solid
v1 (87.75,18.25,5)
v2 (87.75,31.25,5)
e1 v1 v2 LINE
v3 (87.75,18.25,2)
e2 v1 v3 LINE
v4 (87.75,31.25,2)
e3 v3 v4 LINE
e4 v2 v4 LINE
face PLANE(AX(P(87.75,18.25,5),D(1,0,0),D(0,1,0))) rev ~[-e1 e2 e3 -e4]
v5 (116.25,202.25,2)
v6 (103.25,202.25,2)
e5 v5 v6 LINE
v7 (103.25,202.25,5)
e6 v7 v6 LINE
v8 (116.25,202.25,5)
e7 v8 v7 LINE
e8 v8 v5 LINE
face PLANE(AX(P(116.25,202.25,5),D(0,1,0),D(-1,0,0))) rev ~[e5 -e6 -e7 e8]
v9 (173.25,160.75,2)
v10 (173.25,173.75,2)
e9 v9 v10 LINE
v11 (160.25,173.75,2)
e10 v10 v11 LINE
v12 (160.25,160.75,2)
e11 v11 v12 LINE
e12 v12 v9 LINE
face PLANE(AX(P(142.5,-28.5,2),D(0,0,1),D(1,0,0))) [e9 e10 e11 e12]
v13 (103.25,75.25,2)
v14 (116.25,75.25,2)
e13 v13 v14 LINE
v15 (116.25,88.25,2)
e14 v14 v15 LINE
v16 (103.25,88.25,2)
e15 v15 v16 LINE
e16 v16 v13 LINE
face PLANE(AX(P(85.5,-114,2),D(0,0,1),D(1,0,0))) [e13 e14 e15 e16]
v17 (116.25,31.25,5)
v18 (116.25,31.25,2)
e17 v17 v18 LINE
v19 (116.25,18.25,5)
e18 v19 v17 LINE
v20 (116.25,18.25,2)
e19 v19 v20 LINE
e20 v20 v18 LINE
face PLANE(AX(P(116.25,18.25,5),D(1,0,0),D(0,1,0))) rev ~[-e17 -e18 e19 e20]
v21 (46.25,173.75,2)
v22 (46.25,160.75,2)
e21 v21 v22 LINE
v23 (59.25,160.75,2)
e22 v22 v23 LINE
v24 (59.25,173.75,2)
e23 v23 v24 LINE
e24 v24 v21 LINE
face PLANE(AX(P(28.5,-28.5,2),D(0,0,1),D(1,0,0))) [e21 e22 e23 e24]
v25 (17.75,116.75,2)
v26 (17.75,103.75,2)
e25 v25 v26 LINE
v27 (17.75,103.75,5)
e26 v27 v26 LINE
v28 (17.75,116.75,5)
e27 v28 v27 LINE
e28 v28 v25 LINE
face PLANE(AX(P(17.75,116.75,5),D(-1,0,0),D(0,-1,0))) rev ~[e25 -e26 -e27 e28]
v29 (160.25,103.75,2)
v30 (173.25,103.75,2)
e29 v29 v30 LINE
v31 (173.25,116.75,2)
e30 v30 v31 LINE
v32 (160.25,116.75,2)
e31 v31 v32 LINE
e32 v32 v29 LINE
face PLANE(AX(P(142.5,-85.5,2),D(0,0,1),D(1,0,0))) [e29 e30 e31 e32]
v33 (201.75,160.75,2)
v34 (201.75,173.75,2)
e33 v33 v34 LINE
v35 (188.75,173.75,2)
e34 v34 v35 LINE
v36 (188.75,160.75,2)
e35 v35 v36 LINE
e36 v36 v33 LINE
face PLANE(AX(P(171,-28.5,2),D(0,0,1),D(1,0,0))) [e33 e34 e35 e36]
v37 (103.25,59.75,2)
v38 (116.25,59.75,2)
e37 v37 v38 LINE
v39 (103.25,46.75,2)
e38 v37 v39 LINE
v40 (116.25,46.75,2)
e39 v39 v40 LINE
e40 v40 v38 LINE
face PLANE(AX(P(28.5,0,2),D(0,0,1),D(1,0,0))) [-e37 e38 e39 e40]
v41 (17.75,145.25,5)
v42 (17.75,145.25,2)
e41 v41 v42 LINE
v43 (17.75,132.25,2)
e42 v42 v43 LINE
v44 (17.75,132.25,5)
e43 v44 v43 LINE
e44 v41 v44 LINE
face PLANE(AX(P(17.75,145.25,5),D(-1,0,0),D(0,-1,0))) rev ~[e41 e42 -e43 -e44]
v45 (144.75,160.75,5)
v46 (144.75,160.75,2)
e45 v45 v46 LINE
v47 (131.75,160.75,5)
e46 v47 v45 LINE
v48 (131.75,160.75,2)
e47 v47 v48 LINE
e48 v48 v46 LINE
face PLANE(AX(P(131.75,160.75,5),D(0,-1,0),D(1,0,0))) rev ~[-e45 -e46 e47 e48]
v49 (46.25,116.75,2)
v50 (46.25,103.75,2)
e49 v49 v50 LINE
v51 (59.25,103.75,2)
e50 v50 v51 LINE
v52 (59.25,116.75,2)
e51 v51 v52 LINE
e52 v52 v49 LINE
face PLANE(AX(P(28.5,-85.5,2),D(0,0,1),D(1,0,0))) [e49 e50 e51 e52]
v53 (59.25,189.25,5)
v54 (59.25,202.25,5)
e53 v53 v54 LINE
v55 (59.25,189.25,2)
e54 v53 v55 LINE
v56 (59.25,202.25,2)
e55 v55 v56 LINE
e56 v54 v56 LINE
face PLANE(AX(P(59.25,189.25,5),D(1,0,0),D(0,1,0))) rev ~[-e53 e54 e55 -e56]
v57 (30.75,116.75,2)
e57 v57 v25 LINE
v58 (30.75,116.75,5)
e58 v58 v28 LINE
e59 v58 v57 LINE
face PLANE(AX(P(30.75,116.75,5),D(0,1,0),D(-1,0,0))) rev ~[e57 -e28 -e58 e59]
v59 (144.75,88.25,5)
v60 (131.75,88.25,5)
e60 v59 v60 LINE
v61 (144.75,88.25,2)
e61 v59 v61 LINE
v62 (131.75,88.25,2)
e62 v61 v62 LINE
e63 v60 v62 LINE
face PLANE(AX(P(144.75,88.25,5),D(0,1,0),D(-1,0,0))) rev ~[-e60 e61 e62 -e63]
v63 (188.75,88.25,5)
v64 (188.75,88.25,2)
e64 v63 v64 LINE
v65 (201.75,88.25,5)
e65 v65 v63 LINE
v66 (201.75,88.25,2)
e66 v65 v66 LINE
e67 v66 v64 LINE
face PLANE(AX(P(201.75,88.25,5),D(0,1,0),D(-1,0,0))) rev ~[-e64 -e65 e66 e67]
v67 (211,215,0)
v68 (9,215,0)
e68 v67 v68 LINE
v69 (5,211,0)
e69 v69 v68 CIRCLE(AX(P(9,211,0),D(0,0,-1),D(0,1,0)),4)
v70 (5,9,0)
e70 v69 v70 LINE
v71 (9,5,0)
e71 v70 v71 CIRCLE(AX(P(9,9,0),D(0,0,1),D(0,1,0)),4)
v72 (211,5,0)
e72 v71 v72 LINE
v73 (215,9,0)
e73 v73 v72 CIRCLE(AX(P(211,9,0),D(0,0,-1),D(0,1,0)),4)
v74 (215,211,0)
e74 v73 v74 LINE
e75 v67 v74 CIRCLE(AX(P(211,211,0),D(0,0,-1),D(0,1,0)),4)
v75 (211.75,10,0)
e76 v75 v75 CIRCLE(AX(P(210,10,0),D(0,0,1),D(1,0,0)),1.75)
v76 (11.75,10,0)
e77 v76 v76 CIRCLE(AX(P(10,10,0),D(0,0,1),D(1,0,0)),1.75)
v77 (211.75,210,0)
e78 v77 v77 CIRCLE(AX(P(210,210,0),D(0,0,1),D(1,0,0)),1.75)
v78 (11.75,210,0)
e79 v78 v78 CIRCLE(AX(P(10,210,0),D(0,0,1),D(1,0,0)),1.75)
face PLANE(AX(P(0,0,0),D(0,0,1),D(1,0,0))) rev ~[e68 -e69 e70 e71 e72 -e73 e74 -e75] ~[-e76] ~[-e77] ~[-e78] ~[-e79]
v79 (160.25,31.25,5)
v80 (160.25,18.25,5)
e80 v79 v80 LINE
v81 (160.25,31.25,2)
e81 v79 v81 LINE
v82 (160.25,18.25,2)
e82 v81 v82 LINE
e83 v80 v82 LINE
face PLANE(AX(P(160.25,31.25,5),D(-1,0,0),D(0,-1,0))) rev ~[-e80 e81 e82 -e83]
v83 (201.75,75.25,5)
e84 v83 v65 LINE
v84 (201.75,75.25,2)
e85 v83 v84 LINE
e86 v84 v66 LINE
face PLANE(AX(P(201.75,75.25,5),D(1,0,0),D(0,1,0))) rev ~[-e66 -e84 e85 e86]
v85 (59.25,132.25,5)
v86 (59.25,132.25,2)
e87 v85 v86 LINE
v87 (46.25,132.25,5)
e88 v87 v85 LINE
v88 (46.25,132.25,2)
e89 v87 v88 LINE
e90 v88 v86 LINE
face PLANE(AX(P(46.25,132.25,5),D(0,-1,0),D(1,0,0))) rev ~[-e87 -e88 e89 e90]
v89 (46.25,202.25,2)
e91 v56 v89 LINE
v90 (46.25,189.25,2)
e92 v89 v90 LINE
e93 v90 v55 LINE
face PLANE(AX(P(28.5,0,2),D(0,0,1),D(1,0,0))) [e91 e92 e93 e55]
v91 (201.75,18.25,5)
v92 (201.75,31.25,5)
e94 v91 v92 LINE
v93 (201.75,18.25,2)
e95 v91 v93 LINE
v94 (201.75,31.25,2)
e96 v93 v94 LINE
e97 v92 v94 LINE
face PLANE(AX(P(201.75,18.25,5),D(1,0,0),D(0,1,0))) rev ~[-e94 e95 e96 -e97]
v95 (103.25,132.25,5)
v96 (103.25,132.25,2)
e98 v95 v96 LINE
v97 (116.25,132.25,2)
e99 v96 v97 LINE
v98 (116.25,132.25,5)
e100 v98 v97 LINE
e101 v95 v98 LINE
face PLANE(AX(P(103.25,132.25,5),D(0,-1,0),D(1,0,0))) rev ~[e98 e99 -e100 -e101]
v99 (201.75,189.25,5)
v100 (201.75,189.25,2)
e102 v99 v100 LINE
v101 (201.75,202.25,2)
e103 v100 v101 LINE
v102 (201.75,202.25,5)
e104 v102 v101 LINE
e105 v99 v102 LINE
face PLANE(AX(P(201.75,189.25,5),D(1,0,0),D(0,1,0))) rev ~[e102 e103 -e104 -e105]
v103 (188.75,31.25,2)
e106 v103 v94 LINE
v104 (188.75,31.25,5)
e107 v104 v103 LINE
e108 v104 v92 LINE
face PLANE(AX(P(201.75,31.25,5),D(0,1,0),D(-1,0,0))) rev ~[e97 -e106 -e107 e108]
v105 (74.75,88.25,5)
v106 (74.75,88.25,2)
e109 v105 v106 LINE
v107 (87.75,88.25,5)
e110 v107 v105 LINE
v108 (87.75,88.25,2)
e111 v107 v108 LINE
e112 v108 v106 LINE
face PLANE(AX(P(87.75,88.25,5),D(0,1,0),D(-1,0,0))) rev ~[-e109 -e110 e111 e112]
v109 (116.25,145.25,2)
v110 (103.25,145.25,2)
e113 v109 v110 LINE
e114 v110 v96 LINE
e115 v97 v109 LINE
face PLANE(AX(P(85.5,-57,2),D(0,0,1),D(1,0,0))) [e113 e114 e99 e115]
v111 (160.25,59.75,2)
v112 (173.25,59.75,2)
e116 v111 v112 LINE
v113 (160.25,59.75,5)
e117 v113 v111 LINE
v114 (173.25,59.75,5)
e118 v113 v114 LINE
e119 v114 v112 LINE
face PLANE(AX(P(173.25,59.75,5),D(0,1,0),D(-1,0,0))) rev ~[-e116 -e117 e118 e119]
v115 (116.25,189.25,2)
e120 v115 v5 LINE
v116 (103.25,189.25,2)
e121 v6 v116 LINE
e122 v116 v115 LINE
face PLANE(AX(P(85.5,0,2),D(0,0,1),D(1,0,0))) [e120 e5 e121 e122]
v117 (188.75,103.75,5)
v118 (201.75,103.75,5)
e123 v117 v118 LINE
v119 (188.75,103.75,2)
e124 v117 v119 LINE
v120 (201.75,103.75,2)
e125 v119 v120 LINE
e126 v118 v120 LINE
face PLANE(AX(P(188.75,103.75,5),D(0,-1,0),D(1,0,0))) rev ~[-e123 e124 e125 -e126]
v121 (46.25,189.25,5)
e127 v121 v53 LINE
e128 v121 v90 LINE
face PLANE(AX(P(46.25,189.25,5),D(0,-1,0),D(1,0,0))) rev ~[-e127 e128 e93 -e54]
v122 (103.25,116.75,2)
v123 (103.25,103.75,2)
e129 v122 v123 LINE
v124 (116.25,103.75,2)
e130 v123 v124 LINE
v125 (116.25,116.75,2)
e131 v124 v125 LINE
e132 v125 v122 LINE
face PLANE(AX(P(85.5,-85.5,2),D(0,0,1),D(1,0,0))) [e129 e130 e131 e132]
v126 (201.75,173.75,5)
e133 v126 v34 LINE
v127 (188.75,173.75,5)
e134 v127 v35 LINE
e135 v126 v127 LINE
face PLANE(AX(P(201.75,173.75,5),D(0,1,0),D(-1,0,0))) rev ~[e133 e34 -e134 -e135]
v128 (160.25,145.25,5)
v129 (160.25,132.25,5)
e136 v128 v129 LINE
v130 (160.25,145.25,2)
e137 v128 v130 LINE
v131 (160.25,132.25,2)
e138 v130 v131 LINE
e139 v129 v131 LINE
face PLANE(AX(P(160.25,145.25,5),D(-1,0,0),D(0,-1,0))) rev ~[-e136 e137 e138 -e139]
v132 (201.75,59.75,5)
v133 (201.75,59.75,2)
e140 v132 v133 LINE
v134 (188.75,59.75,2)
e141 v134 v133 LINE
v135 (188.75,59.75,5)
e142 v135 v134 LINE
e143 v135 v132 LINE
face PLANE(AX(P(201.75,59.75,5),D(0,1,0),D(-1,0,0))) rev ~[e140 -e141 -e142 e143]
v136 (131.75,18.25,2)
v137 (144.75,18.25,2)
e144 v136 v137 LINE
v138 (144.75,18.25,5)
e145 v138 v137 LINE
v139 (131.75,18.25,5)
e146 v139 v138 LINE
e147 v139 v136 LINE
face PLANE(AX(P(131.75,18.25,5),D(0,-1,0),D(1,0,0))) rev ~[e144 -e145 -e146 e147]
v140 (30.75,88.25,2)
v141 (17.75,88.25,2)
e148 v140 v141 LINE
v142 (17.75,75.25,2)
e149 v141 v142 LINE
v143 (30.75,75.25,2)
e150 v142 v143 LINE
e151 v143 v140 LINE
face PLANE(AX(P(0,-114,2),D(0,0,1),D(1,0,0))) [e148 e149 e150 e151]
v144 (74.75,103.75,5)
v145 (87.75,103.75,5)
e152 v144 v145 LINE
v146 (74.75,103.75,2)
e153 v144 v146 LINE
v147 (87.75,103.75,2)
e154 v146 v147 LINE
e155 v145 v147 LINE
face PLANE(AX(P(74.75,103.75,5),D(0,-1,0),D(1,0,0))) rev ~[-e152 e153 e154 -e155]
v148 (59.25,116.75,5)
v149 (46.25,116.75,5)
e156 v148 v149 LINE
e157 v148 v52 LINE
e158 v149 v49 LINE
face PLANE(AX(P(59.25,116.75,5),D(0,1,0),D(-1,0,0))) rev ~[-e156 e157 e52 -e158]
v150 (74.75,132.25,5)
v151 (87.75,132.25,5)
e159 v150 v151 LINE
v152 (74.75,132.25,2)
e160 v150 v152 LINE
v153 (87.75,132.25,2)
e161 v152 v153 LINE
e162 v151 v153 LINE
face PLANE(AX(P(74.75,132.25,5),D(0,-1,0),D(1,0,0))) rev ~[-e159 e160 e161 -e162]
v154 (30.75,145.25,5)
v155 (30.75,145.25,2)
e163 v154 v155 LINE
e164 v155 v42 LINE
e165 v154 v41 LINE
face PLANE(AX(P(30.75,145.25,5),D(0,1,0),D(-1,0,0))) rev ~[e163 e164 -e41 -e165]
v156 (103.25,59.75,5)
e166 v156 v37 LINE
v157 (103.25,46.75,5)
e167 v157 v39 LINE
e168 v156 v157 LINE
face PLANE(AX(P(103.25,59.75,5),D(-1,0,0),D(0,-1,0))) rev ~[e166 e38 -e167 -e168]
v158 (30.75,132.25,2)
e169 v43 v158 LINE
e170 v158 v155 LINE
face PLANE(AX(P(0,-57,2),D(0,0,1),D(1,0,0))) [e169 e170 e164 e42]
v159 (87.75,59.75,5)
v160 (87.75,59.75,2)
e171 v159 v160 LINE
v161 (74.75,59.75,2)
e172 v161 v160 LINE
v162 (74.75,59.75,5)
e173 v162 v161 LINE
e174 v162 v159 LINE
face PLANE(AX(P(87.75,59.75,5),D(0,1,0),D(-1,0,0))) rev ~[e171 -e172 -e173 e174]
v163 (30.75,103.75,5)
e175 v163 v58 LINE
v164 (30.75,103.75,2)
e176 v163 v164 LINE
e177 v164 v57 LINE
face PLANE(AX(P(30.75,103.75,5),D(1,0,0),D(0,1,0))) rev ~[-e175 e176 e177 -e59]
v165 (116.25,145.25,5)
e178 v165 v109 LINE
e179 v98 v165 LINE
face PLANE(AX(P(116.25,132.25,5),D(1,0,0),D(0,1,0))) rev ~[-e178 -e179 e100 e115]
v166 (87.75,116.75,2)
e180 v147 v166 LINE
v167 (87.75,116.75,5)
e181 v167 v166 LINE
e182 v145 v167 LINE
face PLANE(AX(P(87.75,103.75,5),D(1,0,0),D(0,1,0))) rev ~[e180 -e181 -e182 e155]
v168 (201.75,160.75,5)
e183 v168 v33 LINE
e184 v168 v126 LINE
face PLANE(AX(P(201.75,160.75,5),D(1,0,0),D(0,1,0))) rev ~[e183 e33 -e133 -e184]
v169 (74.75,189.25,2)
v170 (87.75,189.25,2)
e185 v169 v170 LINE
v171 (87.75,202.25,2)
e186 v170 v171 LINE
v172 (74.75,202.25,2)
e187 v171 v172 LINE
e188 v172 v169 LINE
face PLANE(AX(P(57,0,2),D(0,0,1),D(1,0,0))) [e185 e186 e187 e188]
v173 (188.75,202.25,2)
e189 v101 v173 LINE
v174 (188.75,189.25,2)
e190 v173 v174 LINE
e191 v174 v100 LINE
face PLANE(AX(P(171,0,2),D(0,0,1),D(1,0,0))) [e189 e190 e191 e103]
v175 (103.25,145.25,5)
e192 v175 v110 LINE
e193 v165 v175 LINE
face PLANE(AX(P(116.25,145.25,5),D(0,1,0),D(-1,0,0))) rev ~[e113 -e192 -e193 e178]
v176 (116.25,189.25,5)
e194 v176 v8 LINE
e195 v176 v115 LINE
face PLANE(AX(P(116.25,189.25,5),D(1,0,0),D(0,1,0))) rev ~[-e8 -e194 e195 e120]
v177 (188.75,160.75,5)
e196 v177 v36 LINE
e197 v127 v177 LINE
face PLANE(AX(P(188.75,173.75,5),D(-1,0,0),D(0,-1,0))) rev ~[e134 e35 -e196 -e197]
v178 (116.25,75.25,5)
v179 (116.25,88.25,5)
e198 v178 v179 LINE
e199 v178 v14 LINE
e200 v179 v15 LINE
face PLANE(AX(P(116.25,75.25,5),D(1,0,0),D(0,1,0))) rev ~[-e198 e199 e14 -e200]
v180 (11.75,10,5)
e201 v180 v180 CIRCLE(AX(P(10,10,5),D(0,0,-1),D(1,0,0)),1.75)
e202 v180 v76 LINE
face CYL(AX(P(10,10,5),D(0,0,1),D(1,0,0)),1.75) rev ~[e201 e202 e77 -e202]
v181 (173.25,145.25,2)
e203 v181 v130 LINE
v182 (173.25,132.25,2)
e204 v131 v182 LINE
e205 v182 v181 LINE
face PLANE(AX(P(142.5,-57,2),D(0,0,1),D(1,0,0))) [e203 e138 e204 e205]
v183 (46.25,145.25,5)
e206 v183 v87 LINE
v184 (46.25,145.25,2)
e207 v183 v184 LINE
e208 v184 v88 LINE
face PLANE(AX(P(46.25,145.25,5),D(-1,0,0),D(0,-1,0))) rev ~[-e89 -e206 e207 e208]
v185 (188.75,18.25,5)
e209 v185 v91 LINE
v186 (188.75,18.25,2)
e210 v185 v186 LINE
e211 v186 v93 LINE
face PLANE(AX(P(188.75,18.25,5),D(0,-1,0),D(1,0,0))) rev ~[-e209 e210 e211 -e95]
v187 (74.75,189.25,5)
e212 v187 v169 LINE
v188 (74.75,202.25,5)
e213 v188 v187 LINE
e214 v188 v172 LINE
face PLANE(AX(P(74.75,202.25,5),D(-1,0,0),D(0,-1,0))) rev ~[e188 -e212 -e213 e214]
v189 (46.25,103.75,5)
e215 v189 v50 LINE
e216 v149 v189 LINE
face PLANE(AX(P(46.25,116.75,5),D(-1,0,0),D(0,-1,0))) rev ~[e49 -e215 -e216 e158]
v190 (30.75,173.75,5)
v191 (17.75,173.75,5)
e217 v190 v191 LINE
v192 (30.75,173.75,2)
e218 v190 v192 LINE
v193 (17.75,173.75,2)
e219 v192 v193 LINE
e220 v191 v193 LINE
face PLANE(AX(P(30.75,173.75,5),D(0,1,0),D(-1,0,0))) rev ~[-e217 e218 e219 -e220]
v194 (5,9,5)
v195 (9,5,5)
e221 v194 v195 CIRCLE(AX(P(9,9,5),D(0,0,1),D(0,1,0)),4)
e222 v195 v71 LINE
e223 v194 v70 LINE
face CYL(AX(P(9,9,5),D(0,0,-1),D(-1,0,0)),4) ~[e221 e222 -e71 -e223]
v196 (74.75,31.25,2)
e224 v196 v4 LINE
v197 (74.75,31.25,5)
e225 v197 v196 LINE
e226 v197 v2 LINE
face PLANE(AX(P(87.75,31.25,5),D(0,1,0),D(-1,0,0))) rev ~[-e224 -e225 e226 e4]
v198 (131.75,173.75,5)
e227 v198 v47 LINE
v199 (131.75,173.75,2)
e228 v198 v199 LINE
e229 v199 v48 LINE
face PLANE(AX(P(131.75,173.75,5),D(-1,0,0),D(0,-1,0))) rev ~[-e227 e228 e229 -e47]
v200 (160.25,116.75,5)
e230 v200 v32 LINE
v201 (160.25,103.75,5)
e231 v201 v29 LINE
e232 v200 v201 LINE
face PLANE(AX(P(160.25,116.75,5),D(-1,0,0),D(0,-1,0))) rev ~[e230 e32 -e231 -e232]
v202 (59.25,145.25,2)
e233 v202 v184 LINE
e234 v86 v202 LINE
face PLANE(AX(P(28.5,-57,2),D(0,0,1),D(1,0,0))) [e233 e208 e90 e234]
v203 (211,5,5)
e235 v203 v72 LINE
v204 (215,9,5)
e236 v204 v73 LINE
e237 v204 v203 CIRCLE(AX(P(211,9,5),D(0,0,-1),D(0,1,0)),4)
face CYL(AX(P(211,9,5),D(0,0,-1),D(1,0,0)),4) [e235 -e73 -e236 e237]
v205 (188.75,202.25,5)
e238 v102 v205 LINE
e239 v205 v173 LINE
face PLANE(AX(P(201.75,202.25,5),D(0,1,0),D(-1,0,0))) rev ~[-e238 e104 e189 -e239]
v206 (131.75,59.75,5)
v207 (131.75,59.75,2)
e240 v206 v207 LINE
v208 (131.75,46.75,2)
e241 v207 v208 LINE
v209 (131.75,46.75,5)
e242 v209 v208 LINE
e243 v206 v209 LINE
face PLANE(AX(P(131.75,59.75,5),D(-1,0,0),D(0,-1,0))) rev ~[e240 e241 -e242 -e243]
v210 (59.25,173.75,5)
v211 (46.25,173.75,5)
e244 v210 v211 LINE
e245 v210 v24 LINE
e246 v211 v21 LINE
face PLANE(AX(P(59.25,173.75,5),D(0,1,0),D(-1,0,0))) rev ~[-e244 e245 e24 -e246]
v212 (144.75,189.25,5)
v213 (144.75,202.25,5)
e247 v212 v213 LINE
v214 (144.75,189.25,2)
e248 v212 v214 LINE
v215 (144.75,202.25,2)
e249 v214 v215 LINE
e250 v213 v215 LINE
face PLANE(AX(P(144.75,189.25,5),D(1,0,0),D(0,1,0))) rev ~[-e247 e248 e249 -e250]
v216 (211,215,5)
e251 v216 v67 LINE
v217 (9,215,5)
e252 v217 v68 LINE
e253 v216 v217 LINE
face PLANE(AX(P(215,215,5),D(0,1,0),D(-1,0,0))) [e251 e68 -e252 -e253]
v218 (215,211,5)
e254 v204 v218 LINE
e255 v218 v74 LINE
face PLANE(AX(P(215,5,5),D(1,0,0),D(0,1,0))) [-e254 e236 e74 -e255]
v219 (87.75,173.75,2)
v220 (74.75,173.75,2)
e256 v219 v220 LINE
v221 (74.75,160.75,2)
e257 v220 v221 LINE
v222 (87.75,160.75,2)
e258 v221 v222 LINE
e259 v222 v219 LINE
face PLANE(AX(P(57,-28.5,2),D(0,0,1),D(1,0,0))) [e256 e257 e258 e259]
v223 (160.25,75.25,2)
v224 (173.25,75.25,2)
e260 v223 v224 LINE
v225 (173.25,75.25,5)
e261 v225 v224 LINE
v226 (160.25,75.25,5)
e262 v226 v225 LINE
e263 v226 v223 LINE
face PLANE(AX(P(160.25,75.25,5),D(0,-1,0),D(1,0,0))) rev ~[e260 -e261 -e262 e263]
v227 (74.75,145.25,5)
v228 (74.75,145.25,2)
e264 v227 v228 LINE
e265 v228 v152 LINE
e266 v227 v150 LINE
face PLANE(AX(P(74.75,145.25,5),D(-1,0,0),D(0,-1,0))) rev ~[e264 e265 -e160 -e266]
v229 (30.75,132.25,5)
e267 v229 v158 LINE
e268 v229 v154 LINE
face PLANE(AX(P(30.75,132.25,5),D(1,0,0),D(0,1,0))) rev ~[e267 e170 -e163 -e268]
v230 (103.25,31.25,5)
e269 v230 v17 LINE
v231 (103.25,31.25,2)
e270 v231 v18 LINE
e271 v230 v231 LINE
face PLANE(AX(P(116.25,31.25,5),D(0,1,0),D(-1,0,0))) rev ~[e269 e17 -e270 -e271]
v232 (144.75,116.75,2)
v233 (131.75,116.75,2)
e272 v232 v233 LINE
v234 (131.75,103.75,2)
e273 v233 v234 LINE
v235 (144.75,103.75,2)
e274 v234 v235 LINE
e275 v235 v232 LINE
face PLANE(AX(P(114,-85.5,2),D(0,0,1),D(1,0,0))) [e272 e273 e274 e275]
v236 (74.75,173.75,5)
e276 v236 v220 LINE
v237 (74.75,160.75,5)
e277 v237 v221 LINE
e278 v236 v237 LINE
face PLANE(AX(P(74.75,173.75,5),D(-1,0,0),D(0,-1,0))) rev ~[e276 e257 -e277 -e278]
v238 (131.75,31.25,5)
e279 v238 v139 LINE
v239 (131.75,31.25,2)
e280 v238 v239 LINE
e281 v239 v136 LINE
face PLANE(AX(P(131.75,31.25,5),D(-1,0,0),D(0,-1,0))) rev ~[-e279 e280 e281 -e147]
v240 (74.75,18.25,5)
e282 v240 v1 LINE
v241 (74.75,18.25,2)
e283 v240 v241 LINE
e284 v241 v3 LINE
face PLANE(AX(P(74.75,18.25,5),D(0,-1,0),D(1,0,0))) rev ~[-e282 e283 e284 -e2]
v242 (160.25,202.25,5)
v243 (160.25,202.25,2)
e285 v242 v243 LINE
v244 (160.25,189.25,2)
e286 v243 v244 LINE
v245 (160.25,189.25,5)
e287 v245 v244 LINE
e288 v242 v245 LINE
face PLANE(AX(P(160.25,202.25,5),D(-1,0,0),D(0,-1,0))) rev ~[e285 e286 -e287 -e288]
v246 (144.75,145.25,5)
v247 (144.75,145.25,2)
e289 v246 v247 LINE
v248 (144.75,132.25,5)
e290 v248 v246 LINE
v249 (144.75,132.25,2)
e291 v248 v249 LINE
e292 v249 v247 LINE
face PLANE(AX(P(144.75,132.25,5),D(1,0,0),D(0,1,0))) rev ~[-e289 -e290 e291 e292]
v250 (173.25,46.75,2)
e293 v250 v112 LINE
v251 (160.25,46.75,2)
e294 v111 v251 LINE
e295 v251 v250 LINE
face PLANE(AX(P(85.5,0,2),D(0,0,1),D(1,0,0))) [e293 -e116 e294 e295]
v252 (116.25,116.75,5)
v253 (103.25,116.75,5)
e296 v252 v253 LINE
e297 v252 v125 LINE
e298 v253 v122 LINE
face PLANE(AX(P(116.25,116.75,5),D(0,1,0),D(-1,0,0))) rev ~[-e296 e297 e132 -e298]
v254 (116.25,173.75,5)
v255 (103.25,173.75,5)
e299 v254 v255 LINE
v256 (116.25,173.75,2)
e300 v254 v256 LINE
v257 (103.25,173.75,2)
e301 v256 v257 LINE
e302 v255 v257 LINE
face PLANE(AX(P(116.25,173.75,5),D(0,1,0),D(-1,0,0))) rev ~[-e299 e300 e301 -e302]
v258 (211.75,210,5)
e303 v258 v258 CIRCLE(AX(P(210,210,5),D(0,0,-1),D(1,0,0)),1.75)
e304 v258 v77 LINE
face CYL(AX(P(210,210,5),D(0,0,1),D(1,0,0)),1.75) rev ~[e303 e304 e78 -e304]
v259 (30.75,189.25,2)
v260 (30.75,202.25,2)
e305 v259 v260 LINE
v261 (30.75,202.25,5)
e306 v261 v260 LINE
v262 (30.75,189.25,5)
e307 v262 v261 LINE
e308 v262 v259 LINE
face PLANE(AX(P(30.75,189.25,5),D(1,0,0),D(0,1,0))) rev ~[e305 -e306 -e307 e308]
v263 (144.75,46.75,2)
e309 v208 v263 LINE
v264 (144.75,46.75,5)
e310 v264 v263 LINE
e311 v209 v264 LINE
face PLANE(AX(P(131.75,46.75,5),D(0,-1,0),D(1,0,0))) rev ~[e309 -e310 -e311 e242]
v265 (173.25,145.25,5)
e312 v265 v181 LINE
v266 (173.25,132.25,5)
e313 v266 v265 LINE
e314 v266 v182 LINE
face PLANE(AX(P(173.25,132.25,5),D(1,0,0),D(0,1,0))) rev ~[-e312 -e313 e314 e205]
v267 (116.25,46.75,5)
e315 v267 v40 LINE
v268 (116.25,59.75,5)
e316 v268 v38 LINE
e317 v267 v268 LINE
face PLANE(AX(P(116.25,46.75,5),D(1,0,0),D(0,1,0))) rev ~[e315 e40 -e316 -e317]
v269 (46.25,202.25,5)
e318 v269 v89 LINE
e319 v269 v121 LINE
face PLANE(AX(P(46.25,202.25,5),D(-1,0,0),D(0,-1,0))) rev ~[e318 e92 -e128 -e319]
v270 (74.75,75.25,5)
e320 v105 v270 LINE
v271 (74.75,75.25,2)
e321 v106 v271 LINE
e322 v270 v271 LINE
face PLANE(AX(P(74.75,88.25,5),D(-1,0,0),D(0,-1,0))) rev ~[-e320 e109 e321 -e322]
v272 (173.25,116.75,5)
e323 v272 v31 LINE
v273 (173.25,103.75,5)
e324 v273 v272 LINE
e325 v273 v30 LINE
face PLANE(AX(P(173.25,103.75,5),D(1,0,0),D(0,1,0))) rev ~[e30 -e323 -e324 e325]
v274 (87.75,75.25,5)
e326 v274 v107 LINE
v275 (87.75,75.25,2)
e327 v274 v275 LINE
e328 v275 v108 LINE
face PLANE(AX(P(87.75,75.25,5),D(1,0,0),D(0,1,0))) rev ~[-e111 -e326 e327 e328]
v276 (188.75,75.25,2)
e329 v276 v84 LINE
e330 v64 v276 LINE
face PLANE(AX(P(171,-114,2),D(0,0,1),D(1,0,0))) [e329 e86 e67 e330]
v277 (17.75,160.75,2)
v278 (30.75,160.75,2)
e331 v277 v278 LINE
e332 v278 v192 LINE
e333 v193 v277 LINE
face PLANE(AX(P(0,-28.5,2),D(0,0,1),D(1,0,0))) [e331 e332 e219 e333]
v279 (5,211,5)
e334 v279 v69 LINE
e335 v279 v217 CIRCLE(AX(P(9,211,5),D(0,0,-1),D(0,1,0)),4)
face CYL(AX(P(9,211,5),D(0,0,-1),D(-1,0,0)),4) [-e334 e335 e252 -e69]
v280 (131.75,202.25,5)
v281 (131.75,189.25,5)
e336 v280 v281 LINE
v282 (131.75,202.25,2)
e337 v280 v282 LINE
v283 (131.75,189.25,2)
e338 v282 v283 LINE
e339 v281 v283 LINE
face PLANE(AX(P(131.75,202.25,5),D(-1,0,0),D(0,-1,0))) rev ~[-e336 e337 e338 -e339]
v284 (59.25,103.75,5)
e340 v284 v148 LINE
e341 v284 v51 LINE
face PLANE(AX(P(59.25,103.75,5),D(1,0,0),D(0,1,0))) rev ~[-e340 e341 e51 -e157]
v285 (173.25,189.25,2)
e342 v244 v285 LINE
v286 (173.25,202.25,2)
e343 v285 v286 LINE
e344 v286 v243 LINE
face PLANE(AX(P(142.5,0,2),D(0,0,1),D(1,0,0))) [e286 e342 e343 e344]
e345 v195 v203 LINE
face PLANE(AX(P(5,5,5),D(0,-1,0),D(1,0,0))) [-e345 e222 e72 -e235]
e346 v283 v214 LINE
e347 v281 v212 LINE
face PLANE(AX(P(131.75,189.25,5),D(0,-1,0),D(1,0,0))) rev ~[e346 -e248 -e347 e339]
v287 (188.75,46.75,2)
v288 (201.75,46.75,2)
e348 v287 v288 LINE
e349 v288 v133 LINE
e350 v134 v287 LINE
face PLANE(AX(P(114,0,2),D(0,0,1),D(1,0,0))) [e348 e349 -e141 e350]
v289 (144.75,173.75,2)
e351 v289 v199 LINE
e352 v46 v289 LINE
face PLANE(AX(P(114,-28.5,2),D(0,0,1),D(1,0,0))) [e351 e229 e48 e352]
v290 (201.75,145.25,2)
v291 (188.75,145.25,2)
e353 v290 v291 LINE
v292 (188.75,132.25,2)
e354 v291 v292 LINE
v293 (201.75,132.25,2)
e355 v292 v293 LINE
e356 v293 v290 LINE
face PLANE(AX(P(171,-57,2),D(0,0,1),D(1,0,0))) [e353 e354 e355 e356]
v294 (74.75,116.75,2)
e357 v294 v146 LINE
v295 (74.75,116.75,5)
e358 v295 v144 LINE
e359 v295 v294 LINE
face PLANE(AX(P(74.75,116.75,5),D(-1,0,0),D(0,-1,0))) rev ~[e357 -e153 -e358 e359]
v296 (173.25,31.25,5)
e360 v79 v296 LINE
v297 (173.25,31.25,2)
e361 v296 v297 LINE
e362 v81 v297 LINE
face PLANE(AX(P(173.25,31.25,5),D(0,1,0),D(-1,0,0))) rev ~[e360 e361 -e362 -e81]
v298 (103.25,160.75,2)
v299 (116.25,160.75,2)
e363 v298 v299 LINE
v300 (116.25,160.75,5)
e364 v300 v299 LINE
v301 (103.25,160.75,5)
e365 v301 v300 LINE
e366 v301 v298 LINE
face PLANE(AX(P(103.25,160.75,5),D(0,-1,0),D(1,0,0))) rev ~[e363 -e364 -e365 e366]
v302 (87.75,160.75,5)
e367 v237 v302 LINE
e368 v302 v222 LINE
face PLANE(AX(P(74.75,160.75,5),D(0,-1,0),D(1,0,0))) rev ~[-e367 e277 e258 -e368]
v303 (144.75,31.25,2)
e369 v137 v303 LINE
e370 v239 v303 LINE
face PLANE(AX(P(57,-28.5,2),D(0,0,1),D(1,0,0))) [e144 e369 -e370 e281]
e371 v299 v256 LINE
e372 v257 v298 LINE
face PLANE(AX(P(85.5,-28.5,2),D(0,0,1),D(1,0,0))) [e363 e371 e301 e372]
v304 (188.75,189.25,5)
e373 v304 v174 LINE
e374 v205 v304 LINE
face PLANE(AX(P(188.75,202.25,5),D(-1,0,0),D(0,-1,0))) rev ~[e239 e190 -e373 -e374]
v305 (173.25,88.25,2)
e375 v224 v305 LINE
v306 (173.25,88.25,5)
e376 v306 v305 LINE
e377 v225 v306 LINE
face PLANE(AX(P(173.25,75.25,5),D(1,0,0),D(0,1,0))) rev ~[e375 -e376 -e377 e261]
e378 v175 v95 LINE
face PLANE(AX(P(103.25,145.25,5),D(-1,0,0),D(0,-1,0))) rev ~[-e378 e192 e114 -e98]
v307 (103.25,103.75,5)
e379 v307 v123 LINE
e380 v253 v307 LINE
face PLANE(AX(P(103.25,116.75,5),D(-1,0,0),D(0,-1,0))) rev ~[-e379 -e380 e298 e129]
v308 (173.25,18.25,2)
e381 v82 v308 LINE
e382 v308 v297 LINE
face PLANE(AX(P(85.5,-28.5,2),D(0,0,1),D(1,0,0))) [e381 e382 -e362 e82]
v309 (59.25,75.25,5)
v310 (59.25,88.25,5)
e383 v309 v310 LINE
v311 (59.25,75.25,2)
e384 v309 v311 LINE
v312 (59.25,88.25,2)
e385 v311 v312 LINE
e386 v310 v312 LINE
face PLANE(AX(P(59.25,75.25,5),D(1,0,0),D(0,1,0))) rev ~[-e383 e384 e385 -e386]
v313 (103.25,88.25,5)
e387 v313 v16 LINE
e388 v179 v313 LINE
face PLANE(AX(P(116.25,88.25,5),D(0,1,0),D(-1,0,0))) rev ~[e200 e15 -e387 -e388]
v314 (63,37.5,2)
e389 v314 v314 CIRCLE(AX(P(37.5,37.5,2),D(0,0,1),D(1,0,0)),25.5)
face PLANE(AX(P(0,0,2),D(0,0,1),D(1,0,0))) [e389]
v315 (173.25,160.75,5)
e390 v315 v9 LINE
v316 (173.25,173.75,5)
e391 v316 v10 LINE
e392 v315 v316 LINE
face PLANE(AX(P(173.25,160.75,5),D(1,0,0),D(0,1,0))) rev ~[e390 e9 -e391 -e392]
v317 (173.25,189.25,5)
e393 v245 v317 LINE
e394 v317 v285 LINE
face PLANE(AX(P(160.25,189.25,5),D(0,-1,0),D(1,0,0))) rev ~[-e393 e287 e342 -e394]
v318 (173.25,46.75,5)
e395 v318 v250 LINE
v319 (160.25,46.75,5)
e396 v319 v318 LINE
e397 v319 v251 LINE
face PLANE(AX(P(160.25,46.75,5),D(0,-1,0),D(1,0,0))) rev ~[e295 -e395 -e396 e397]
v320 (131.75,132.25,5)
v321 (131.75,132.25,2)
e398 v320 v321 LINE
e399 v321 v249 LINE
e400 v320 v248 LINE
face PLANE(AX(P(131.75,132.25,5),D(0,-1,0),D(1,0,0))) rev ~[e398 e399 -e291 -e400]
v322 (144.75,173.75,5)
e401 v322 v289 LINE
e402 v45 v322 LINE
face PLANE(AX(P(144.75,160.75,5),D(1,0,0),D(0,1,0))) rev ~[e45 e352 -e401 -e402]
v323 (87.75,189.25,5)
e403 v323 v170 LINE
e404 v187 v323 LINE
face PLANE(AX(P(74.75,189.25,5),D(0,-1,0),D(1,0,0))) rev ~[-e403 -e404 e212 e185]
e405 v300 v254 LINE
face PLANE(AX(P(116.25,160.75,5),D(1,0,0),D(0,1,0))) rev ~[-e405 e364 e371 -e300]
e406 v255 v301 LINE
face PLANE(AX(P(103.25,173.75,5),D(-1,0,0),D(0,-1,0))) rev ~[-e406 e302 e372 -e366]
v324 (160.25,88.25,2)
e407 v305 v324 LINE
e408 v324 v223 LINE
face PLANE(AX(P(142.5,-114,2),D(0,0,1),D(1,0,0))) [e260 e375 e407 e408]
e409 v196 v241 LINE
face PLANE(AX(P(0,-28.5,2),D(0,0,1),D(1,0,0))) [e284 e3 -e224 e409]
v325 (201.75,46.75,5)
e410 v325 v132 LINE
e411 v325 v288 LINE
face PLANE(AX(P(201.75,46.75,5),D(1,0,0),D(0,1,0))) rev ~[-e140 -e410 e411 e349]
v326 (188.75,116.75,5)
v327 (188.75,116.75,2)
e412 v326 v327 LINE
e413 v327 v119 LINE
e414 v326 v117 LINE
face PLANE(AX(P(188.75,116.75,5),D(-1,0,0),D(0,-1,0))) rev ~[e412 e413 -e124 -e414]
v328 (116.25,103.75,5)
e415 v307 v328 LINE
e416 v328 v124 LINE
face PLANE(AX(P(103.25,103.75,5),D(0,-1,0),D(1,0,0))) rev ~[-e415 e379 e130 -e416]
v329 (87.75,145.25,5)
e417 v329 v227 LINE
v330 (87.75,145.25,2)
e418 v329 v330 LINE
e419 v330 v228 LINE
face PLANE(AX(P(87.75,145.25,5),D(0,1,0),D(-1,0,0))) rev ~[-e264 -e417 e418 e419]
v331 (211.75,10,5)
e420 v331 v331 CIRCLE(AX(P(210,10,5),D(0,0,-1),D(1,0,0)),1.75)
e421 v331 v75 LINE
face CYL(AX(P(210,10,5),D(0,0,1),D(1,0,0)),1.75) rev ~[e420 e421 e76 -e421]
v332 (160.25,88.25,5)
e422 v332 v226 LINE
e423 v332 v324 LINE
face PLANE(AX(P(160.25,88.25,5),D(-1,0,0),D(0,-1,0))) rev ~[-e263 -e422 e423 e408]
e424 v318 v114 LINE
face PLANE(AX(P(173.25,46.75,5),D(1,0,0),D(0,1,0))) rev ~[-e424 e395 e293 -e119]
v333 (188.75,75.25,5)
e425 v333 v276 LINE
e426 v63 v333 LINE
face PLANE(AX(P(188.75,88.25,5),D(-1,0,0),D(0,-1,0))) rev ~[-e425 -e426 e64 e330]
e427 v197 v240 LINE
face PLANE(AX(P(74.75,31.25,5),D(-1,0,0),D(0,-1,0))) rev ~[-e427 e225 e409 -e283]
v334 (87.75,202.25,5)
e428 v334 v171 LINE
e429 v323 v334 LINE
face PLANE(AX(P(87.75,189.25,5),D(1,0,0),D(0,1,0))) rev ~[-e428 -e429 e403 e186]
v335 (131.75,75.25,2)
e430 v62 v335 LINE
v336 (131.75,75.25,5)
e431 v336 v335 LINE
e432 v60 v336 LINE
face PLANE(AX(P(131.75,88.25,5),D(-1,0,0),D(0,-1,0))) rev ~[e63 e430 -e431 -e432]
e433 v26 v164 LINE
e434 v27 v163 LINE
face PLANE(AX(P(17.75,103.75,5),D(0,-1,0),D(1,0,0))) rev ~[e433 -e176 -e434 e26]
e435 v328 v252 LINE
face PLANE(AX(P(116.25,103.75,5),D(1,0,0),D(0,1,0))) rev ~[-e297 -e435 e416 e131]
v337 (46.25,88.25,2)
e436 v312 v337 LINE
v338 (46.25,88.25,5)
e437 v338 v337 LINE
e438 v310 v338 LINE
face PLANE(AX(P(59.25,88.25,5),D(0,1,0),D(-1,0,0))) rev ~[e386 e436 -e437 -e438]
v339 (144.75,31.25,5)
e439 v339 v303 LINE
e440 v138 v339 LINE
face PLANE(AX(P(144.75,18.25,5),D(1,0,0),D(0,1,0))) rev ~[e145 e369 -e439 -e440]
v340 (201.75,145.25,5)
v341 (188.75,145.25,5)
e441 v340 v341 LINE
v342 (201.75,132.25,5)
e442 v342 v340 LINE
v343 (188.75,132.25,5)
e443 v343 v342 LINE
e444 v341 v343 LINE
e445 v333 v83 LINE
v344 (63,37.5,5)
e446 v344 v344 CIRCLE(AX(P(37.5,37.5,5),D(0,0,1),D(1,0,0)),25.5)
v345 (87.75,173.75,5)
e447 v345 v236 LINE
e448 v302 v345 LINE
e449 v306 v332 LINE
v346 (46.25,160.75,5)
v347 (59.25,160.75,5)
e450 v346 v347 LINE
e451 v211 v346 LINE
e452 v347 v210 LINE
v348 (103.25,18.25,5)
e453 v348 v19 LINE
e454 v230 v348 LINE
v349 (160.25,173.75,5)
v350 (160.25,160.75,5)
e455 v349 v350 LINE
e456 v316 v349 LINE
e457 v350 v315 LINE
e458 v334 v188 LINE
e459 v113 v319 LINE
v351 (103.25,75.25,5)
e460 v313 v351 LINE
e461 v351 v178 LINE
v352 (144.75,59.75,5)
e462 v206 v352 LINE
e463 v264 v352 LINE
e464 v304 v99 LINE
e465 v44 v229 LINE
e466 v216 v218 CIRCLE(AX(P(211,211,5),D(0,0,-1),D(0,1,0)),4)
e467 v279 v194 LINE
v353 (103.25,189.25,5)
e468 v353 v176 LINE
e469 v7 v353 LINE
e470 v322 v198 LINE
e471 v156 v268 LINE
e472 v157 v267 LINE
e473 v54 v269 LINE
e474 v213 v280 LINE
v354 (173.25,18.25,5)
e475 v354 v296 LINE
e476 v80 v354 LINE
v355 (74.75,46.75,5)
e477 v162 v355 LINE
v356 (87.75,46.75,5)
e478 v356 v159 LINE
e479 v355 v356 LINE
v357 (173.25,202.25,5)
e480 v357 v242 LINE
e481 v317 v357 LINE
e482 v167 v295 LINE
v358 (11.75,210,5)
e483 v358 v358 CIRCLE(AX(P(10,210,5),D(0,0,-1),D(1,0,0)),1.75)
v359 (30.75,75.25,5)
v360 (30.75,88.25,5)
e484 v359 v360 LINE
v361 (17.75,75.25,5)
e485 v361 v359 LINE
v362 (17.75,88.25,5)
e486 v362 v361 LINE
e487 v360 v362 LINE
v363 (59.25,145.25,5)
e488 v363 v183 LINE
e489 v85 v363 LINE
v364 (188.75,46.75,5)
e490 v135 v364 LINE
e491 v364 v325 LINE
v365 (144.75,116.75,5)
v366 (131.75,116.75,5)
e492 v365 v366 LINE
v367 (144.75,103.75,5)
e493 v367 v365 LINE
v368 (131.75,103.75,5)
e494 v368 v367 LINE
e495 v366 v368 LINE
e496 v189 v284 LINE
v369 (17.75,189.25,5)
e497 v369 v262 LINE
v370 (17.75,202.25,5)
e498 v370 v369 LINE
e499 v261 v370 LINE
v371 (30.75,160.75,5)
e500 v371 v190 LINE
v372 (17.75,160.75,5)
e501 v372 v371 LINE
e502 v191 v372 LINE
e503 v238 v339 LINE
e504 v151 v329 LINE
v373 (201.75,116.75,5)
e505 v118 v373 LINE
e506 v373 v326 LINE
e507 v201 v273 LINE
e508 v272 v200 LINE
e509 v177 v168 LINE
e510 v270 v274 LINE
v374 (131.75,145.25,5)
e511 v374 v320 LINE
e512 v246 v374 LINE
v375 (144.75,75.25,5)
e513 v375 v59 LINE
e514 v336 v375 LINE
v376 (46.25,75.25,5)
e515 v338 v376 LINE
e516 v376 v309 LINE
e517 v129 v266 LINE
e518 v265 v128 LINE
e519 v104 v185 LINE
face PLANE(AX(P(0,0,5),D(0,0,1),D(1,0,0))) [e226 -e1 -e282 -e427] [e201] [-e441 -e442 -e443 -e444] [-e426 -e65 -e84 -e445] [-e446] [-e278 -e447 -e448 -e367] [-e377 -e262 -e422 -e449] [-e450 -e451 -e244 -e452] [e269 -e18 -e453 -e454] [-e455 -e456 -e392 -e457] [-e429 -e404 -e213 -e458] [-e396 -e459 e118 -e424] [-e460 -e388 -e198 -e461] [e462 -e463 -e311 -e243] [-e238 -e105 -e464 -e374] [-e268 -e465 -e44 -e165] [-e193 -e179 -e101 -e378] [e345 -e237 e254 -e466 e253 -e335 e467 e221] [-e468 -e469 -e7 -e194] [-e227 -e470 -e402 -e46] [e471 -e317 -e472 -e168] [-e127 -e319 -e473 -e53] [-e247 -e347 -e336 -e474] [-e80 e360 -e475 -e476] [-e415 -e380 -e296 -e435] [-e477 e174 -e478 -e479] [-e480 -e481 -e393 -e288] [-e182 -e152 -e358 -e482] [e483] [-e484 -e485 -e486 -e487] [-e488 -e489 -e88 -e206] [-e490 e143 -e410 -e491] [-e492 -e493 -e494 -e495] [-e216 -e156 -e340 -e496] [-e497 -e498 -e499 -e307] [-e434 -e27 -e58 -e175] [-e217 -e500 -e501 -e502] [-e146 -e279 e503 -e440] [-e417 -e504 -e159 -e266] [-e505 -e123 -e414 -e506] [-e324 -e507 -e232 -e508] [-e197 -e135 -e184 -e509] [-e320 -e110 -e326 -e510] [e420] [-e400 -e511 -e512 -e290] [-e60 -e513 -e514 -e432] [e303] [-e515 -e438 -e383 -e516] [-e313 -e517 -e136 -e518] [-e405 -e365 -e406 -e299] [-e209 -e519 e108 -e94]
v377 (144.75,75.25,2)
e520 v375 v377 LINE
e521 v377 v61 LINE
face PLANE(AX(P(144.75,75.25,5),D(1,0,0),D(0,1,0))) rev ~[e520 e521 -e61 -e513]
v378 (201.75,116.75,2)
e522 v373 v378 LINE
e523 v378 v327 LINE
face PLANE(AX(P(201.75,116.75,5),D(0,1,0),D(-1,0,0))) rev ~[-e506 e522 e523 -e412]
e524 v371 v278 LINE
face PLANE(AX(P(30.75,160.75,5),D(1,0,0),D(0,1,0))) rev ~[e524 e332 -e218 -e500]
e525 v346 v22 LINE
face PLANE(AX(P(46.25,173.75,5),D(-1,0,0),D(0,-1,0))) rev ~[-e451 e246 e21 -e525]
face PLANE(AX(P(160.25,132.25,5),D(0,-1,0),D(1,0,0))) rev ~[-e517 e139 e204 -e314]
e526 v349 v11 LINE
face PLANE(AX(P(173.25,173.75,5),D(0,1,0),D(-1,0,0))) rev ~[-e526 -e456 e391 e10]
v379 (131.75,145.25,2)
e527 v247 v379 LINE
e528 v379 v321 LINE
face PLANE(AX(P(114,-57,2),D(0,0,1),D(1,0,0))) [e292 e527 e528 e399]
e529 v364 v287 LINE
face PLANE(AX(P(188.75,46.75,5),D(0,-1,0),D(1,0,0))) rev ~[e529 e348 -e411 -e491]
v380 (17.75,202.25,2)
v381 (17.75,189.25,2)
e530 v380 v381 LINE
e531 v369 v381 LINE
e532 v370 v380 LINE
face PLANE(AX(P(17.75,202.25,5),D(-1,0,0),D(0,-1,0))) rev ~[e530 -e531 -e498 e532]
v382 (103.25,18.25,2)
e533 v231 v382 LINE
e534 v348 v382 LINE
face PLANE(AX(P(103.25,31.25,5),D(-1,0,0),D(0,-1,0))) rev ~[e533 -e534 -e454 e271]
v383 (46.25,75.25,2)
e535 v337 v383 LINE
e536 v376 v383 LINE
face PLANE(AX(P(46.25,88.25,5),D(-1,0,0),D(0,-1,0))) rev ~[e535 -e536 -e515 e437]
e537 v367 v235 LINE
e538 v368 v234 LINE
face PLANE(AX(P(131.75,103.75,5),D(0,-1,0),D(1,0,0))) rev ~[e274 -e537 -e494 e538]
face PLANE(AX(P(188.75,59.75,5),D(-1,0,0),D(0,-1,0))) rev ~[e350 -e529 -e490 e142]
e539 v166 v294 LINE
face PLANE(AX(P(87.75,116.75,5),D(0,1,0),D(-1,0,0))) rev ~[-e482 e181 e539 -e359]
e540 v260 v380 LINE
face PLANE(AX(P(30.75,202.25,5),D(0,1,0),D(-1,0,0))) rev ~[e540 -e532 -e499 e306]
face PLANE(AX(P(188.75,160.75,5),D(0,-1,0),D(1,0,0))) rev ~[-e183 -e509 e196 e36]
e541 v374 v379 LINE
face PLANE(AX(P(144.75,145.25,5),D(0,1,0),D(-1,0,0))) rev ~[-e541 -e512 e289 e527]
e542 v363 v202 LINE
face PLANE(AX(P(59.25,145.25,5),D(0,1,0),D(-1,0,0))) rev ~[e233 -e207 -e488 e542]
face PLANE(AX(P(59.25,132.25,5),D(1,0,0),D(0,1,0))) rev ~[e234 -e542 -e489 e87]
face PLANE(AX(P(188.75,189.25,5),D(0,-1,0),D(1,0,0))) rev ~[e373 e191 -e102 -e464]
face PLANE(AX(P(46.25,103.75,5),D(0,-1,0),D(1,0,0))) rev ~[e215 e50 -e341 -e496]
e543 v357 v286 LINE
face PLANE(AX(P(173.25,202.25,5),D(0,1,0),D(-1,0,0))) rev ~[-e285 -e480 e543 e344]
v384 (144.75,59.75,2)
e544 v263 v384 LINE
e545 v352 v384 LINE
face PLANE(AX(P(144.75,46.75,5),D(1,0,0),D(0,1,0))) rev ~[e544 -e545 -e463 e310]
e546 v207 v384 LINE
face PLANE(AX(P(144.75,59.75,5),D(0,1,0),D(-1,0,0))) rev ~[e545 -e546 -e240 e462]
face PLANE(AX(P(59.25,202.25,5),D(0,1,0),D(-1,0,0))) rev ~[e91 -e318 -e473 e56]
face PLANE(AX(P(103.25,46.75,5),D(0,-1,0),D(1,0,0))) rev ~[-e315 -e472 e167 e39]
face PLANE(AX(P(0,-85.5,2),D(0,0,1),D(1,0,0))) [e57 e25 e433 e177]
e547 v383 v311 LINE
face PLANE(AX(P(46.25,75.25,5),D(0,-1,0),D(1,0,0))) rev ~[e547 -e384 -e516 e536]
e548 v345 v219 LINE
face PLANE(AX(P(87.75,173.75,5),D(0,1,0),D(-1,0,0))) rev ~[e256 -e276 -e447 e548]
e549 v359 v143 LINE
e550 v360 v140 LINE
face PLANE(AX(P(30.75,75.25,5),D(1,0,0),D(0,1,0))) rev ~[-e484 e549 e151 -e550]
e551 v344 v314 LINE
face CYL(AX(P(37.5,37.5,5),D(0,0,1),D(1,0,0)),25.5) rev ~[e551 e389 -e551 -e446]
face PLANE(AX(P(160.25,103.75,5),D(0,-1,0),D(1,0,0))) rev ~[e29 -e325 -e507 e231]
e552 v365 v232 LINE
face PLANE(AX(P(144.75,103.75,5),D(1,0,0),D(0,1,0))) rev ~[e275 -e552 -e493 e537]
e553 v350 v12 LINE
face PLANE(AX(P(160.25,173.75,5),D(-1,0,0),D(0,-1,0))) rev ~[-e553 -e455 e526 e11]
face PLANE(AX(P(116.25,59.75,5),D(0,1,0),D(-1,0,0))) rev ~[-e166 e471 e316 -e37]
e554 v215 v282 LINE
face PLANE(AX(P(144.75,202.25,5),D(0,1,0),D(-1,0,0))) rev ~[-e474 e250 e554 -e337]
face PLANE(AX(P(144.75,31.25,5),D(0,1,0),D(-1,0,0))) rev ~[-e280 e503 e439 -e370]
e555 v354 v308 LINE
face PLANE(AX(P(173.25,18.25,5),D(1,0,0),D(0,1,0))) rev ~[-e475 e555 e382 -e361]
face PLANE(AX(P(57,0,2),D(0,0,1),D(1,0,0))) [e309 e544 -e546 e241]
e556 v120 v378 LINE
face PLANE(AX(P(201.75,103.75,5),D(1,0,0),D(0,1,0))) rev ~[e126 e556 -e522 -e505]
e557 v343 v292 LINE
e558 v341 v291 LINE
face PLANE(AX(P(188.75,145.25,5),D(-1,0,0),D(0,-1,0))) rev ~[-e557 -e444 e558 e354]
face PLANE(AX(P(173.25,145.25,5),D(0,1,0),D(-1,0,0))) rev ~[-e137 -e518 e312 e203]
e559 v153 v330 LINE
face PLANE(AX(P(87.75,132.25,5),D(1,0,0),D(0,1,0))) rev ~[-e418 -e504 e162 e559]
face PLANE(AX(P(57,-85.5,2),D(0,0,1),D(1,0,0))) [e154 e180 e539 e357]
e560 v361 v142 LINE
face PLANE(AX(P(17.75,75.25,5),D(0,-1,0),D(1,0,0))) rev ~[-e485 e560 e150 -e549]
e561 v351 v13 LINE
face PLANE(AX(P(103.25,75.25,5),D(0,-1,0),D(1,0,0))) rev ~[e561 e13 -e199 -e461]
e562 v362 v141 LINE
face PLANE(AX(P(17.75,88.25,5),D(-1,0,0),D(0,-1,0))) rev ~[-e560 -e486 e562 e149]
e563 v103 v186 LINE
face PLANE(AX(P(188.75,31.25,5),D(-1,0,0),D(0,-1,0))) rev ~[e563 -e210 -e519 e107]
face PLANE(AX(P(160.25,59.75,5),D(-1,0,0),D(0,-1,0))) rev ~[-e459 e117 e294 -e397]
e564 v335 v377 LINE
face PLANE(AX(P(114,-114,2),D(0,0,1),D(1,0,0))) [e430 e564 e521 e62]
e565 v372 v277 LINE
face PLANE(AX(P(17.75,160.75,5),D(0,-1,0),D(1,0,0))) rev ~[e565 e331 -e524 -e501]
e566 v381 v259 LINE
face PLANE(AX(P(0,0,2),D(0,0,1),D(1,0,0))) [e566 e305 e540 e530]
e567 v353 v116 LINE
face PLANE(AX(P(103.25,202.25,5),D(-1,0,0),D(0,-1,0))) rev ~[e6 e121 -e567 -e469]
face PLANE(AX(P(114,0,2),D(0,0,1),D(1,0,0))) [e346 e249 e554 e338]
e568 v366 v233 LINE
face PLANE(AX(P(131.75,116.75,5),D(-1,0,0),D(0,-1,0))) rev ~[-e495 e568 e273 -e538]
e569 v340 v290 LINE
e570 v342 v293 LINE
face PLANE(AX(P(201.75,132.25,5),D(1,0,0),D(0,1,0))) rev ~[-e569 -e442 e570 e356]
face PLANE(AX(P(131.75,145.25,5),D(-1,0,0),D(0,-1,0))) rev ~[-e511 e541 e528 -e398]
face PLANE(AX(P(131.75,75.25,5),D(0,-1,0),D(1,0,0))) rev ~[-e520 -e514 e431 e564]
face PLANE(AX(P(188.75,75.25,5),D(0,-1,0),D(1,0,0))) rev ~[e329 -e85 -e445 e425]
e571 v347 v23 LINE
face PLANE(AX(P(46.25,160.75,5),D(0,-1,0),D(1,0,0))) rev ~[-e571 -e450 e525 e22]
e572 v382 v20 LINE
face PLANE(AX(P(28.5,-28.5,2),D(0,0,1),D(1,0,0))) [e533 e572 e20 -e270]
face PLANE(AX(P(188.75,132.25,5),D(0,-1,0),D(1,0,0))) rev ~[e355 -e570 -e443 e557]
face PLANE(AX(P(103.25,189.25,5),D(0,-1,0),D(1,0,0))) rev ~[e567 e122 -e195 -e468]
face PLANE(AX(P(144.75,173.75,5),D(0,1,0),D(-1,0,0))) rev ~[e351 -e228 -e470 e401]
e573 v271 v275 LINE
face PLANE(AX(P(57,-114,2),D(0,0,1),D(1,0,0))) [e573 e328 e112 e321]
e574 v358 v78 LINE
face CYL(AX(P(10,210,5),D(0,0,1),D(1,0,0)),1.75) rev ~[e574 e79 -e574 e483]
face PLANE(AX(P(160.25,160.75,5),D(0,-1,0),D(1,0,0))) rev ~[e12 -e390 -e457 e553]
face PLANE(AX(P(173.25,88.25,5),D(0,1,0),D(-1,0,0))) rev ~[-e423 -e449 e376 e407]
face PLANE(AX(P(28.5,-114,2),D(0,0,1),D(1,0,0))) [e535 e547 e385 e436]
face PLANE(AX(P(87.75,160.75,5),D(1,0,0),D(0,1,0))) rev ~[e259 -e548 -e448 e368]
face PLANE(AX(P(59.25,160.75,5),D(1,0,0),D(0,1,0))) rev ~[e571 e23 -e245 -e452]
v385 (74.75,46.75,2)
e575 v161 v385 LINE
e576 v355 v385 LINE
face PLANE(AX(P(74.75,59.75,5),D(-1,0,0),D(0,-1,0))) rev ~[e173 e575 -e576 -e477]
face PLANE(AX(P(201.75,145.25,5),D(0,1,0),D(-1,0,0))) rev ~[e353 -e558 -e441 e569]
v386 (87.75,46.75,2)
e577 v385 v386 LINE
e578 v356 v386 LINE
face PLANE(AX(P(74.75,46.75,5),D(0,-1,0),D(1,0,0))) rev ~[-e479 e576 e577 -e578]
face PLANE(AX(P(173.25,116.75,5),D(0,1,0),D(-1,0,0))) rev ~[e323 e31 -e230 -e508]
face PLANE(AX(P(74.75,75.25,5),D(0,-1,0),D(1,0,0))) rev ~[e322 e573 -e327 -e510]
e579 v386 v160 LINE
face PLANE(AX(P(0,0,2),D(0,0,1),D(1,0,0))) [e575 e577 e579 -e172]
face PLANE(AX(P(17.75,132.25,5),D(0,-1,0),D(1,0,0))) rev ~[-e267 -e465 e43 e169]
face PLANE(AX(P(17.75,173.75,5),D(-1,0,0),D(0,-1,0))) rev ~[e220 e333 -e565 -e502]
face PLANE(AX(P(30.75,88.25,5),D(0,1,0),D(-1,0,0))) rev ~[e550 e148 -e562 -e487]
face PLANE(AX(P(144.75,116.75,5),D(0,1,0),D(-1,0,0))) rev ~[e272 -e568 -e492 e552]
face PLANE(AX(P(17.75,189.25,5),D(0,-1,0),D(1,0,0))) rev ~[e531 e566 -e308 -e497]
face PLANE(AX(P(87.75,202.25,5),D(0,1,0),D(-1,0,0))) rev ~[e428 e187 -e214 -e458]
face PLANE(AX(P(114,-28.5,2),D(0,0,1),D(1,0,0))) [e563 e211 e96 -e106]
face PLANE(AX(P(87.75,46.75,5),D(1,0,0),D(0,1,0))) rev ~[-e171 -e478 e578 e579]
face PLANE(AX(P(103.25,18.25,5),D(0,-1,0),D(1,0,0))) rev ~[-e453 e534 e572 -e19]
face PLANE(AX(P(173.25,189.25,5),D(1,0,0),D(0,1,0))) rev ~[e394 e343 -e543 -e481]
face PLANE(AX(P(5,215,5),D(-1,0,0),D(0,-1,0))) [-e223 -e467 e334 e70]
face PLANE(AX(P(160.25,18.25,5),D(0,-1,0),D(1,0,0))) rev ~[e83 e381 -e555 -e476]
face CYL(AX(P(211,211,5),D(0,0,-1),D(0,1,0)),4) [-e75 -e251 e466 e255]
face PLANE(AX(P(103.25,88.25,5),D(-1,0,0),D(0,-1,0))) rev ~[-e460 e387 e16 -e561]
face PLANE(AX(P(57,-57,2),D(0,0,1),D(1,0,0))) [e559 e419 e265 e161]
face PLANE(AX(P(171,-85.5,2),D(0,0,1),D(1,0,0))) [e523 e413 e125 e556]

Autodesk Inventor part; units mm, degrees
ref_plane "YZ Plane" through (0, 0, 0) normal (1, 0, 0) x (0, 1, 0)
ref_plane "XZ Plane" through (0, 0, 0) normal (0, 1, 0) x (-1, 0, 0)
ref_plane "XY Plane" through (0, 0, 0) normal (0, 0, 1) x (1, 0, 0)
sketch "Sketch1" plane through (0, 0, 0) normal (0, 0, 1) x (1, 0, 0)
  line L0 (0, 0) -> (220, 0)
  line L1 (220, 0) -> (220, 220)
  line L2 (220, 220) -> (0, 220)
  line L3 (0, 220) -> (0, 0)
  dimension "d0" = 220
  dimension "d1" = 220
extrude "Extrusion1" add sketch "Sketch1" along normal blind 5
sketch "Sketch2" plane through (0, 0, 5) normal (0, 0, 1) x (1, 0, 0)
  line L0 (10, 210) -> (210, 210)
  line L1 (210, 210) -> (210, 10)
  line L2 (210, 10) -> (10, 10)
  line L3 (10, 10) -> (10, 210)
  line L4 (10, 210) -> (210, 10) construction
  line L5 (210, 210) -> (10, 10) construction
  line L6 (10, 210) -> (38.5, 210)
  line L7 (38.5, 210) -> (38.5, 181.5)
  line L8 (38.5, 181.5) -> (10, 181.5)
  line L9 (10, 181.5) -> (10, 210)
  circle A0 centre (24.25, 195.75) radius 10.25
  line L10 (17.75, 189.25) -> (30.75, 189.25)
  line L11 (30.75, 189.25) -> (30.75, 202.25)
  line L12 (30.75, 202.25) -> (17.75, 202.25)
  line L13 (17.75, 202.25) -> (17.75, 189.25)
  line L14 (17.75, 189.25) -> (30.75, 202.25) construction
  line L15 (30.75, 189.25) -> (17.75, 202.25) construction
  point P0 (0, 0)
  point P1 (110, 110)
  dimension "d4" = 200
  dimension "d5" = 200
  dimension "d6" = 28.5
  dimension "d7" = 28.5
  dimension "d8" = 20.5
  dimension "d41" = 13
  dimension "d42" = 13
extrude "Extrusion2" cut sketch "Sketch2" against normal blind 3 contours L13 L12 L11 L10
pattern_linear "Rectangular Pattern1" count 7 spacing 28.5 along (1, 0, 0) count 5 spacing 28.5 along (0, -1, 0) of "Extrusion2"
sketch "Sketch4" plane through (0, 0, 5) normal (0, 0, 1) x (1, 0, 0)
  line L0 (210, 10) -> (10, 10)
  line L1 (10, 10) -> (10, 210)
  line L2 (10, 210) -> (210, 210)
  line L3 (210, 210) -> (210, 10)
  line L4 (210, 10) -> (10, 210) construction
  line L5 (10, 10) -> (210, 210) construction
  circle A0 centre (81.25, 81.75) radius 10.25 projected
  line L6 (81.25, 81.75) -> (81.25, 53.25)
  circle A1 centre (81.25, 53.25) radius 10.25
  line L7 (74.75, 46.75) -> (87.75, 46.75)
  line L8 (87.75, 46.75) -> (87.75, 59.75)
  line L9 (87.75, 59.75) -> (74.75, 59.75)
  line L10 (74.75, 59.75) -> (74.75, 46.75)
  line L11 (74.75, 46.75) -> (87.75, 59.75) construction
  line L12 (87.75, 46.75) -> (74.75, 59.75) construction
  point P0 (0, 0)
  point P1 (110, 110)
  dimension "d24" = 200
  dimension "d25" = 200
  dimension "d26" = 28.5
  dimension "d27" = 20.5
  dimension "d43" = 13
  dimension "d44" = 13
extrude "Extrusion4" cut sketch "Sketch4" against normal blind 3 contours L9 L8 L7 L10
pattern_linear "Rectangular Pattern2" count 2 spacing 28.5 along (0, -1, 0) count 5 spacing 28.5 along (1, 0, 0) of "Extrusion4"
sketch "Sketch5" plane through (0, 0, 5) normal (0, 0, 1) x (1, 0, 0)
  line L0 (0, 0) -> (220, 0) projected
  line L1 (0, 0) -> (0, 5)
  line L2 (0, 220) -> (0, 0) projected
  line L3 (0, 5) -> (5, 5)
  circle A0 centre (5, 5) radius 1.6
  line L4 (220, 220) -> (0, 220) projected
  line L5 (110, 220) -> (110, 0)
  line L6 (220, 0) -> (220, 220) projected
  line L7 (220, 110) -> (0, 110)
  circle A1 centre (215, 5) radius 1.6
  circle A2 centre (5, 215) radius 1.6
  circle A3 centre (215, 215) radius 1.6
  dimension "d36" = 5
  dimension "d37" = 5
  dimension "d38" = 3.2
extrude "Extrusion5" [suppressed]
sketch "Sketch6" plane through (0, 0, 5) normal (0, 0, 1) x (1, 0, 0)
  point P0 (0, 0)
sketch "Sketch3" plane through (0, 0, 5) normal (0, 0, 1) x (1, 0, 0)
  line L0 (10, 10) -> (210, 10)
  line L1 (210, 10) -> (210, 210)
  line L2 (210, 210) -> (10, 210)
  line L3 (10, 210) -> (10, 10)
  line L4 (10, 10) -> (210, 210) construction
  line L5 (210, 10) -> (10, 210) construction
  line L6 (10, 10) -> (65, 10)
  line L7 (65, 10) -> (65, 65)
  line L8 (65, 65) -> (10, 65)
  line L9 (10, 65) -> (10, 10)
  circle A0 centre (37.5, 37.5) radius 25.5
  point P0 (0, 0)
  point P1 (110, 110)
  dimension "d17" = 200
  dimension "d18" = 200
  dimension "d19" = 55
  dimension "d20" = 55
  dimension "d21" = 51
extrude "Extrusion3" cut sketch "Sketch3" against normal blind 3 contours A0
fillet "Fillet1" radius 2 4 edges at (0, 220, 2.5) (220, 220, 2.5) (220, 0, 2.5) (0, 0, 2.5)
sketch "Sketch15" plane through (0, 0, 5) normal (0, 0, 1) x (1, 0, 0)
  line L0 (0, 0) -> (220, 0)
  line L1 (220, 0) -> (220, 220)
  line L2 (220, 220) -> (0, 220)
  line L3 (0, 220) -> (0, 0)
  line L4 (5, 5) -> (215, 5)
  line L5 (215, 5) -> (215, 215)
  line L6 (215, 215) -> (5, 215)
  line L7 (5, 215) -> (5, 5)
  line L8 (5, 5) -> (215, 215) construction
  line L9 (215, 5) -> (5, 215) construction
  line L10 (10, 10) -> (210, 10)
  line L11 (210, 10) -> (210, 210)
  line L12 (210, 210) -> (10, 210)
  line L13 (10, 210) -> (10, 10)
  line L14 (10, 10) -> (210, 210) construction
  line L15 (210, 10) -> (10, 210) construction
  circle A0 centre (10, 210) radius 1.75
  circle A1 centre (210, 210) radius 1.75
  circle A2 centre (10, 10) radius 1.75
  circle A3 centre (210, 10) radius 1.75
  point P0 (110, 110)
  dimension "d79" = 220
  dimension "d80" = 220
  dimension "d81" = 210
  dimension "d82" = 210
  dimension "d85" = 200
  dimension "d86" = 200
  dimension "d87" = 3.5
  dimension "d90" = 200
  dimension "d93" = 200
extrude "Extrusion12" cut sketch "Sketch15" against normal blind 5 contours L3 L2 L1 L0 | L13 A2 L10 | L10 A2 L13 | A3 L11 L10 | L10 L11 A3 | A0 L12 L13 | L13 L12 A0 | A1 L12 L11 | L11 L12 A1
fillet "Fillet4" radius 4 4 edges at (5, 5, 2.5) (215, 5, 2.5) (215, 215, 2.5) (5, 215, 2.5)
sketch "Sketch16" plane through (0, 0, 5) normal (0, 0, 1) x (1, 0, 0)
  point P0 (5, 9)
  point P1 (9, 5)
properties part number "plade til cuvetter"
